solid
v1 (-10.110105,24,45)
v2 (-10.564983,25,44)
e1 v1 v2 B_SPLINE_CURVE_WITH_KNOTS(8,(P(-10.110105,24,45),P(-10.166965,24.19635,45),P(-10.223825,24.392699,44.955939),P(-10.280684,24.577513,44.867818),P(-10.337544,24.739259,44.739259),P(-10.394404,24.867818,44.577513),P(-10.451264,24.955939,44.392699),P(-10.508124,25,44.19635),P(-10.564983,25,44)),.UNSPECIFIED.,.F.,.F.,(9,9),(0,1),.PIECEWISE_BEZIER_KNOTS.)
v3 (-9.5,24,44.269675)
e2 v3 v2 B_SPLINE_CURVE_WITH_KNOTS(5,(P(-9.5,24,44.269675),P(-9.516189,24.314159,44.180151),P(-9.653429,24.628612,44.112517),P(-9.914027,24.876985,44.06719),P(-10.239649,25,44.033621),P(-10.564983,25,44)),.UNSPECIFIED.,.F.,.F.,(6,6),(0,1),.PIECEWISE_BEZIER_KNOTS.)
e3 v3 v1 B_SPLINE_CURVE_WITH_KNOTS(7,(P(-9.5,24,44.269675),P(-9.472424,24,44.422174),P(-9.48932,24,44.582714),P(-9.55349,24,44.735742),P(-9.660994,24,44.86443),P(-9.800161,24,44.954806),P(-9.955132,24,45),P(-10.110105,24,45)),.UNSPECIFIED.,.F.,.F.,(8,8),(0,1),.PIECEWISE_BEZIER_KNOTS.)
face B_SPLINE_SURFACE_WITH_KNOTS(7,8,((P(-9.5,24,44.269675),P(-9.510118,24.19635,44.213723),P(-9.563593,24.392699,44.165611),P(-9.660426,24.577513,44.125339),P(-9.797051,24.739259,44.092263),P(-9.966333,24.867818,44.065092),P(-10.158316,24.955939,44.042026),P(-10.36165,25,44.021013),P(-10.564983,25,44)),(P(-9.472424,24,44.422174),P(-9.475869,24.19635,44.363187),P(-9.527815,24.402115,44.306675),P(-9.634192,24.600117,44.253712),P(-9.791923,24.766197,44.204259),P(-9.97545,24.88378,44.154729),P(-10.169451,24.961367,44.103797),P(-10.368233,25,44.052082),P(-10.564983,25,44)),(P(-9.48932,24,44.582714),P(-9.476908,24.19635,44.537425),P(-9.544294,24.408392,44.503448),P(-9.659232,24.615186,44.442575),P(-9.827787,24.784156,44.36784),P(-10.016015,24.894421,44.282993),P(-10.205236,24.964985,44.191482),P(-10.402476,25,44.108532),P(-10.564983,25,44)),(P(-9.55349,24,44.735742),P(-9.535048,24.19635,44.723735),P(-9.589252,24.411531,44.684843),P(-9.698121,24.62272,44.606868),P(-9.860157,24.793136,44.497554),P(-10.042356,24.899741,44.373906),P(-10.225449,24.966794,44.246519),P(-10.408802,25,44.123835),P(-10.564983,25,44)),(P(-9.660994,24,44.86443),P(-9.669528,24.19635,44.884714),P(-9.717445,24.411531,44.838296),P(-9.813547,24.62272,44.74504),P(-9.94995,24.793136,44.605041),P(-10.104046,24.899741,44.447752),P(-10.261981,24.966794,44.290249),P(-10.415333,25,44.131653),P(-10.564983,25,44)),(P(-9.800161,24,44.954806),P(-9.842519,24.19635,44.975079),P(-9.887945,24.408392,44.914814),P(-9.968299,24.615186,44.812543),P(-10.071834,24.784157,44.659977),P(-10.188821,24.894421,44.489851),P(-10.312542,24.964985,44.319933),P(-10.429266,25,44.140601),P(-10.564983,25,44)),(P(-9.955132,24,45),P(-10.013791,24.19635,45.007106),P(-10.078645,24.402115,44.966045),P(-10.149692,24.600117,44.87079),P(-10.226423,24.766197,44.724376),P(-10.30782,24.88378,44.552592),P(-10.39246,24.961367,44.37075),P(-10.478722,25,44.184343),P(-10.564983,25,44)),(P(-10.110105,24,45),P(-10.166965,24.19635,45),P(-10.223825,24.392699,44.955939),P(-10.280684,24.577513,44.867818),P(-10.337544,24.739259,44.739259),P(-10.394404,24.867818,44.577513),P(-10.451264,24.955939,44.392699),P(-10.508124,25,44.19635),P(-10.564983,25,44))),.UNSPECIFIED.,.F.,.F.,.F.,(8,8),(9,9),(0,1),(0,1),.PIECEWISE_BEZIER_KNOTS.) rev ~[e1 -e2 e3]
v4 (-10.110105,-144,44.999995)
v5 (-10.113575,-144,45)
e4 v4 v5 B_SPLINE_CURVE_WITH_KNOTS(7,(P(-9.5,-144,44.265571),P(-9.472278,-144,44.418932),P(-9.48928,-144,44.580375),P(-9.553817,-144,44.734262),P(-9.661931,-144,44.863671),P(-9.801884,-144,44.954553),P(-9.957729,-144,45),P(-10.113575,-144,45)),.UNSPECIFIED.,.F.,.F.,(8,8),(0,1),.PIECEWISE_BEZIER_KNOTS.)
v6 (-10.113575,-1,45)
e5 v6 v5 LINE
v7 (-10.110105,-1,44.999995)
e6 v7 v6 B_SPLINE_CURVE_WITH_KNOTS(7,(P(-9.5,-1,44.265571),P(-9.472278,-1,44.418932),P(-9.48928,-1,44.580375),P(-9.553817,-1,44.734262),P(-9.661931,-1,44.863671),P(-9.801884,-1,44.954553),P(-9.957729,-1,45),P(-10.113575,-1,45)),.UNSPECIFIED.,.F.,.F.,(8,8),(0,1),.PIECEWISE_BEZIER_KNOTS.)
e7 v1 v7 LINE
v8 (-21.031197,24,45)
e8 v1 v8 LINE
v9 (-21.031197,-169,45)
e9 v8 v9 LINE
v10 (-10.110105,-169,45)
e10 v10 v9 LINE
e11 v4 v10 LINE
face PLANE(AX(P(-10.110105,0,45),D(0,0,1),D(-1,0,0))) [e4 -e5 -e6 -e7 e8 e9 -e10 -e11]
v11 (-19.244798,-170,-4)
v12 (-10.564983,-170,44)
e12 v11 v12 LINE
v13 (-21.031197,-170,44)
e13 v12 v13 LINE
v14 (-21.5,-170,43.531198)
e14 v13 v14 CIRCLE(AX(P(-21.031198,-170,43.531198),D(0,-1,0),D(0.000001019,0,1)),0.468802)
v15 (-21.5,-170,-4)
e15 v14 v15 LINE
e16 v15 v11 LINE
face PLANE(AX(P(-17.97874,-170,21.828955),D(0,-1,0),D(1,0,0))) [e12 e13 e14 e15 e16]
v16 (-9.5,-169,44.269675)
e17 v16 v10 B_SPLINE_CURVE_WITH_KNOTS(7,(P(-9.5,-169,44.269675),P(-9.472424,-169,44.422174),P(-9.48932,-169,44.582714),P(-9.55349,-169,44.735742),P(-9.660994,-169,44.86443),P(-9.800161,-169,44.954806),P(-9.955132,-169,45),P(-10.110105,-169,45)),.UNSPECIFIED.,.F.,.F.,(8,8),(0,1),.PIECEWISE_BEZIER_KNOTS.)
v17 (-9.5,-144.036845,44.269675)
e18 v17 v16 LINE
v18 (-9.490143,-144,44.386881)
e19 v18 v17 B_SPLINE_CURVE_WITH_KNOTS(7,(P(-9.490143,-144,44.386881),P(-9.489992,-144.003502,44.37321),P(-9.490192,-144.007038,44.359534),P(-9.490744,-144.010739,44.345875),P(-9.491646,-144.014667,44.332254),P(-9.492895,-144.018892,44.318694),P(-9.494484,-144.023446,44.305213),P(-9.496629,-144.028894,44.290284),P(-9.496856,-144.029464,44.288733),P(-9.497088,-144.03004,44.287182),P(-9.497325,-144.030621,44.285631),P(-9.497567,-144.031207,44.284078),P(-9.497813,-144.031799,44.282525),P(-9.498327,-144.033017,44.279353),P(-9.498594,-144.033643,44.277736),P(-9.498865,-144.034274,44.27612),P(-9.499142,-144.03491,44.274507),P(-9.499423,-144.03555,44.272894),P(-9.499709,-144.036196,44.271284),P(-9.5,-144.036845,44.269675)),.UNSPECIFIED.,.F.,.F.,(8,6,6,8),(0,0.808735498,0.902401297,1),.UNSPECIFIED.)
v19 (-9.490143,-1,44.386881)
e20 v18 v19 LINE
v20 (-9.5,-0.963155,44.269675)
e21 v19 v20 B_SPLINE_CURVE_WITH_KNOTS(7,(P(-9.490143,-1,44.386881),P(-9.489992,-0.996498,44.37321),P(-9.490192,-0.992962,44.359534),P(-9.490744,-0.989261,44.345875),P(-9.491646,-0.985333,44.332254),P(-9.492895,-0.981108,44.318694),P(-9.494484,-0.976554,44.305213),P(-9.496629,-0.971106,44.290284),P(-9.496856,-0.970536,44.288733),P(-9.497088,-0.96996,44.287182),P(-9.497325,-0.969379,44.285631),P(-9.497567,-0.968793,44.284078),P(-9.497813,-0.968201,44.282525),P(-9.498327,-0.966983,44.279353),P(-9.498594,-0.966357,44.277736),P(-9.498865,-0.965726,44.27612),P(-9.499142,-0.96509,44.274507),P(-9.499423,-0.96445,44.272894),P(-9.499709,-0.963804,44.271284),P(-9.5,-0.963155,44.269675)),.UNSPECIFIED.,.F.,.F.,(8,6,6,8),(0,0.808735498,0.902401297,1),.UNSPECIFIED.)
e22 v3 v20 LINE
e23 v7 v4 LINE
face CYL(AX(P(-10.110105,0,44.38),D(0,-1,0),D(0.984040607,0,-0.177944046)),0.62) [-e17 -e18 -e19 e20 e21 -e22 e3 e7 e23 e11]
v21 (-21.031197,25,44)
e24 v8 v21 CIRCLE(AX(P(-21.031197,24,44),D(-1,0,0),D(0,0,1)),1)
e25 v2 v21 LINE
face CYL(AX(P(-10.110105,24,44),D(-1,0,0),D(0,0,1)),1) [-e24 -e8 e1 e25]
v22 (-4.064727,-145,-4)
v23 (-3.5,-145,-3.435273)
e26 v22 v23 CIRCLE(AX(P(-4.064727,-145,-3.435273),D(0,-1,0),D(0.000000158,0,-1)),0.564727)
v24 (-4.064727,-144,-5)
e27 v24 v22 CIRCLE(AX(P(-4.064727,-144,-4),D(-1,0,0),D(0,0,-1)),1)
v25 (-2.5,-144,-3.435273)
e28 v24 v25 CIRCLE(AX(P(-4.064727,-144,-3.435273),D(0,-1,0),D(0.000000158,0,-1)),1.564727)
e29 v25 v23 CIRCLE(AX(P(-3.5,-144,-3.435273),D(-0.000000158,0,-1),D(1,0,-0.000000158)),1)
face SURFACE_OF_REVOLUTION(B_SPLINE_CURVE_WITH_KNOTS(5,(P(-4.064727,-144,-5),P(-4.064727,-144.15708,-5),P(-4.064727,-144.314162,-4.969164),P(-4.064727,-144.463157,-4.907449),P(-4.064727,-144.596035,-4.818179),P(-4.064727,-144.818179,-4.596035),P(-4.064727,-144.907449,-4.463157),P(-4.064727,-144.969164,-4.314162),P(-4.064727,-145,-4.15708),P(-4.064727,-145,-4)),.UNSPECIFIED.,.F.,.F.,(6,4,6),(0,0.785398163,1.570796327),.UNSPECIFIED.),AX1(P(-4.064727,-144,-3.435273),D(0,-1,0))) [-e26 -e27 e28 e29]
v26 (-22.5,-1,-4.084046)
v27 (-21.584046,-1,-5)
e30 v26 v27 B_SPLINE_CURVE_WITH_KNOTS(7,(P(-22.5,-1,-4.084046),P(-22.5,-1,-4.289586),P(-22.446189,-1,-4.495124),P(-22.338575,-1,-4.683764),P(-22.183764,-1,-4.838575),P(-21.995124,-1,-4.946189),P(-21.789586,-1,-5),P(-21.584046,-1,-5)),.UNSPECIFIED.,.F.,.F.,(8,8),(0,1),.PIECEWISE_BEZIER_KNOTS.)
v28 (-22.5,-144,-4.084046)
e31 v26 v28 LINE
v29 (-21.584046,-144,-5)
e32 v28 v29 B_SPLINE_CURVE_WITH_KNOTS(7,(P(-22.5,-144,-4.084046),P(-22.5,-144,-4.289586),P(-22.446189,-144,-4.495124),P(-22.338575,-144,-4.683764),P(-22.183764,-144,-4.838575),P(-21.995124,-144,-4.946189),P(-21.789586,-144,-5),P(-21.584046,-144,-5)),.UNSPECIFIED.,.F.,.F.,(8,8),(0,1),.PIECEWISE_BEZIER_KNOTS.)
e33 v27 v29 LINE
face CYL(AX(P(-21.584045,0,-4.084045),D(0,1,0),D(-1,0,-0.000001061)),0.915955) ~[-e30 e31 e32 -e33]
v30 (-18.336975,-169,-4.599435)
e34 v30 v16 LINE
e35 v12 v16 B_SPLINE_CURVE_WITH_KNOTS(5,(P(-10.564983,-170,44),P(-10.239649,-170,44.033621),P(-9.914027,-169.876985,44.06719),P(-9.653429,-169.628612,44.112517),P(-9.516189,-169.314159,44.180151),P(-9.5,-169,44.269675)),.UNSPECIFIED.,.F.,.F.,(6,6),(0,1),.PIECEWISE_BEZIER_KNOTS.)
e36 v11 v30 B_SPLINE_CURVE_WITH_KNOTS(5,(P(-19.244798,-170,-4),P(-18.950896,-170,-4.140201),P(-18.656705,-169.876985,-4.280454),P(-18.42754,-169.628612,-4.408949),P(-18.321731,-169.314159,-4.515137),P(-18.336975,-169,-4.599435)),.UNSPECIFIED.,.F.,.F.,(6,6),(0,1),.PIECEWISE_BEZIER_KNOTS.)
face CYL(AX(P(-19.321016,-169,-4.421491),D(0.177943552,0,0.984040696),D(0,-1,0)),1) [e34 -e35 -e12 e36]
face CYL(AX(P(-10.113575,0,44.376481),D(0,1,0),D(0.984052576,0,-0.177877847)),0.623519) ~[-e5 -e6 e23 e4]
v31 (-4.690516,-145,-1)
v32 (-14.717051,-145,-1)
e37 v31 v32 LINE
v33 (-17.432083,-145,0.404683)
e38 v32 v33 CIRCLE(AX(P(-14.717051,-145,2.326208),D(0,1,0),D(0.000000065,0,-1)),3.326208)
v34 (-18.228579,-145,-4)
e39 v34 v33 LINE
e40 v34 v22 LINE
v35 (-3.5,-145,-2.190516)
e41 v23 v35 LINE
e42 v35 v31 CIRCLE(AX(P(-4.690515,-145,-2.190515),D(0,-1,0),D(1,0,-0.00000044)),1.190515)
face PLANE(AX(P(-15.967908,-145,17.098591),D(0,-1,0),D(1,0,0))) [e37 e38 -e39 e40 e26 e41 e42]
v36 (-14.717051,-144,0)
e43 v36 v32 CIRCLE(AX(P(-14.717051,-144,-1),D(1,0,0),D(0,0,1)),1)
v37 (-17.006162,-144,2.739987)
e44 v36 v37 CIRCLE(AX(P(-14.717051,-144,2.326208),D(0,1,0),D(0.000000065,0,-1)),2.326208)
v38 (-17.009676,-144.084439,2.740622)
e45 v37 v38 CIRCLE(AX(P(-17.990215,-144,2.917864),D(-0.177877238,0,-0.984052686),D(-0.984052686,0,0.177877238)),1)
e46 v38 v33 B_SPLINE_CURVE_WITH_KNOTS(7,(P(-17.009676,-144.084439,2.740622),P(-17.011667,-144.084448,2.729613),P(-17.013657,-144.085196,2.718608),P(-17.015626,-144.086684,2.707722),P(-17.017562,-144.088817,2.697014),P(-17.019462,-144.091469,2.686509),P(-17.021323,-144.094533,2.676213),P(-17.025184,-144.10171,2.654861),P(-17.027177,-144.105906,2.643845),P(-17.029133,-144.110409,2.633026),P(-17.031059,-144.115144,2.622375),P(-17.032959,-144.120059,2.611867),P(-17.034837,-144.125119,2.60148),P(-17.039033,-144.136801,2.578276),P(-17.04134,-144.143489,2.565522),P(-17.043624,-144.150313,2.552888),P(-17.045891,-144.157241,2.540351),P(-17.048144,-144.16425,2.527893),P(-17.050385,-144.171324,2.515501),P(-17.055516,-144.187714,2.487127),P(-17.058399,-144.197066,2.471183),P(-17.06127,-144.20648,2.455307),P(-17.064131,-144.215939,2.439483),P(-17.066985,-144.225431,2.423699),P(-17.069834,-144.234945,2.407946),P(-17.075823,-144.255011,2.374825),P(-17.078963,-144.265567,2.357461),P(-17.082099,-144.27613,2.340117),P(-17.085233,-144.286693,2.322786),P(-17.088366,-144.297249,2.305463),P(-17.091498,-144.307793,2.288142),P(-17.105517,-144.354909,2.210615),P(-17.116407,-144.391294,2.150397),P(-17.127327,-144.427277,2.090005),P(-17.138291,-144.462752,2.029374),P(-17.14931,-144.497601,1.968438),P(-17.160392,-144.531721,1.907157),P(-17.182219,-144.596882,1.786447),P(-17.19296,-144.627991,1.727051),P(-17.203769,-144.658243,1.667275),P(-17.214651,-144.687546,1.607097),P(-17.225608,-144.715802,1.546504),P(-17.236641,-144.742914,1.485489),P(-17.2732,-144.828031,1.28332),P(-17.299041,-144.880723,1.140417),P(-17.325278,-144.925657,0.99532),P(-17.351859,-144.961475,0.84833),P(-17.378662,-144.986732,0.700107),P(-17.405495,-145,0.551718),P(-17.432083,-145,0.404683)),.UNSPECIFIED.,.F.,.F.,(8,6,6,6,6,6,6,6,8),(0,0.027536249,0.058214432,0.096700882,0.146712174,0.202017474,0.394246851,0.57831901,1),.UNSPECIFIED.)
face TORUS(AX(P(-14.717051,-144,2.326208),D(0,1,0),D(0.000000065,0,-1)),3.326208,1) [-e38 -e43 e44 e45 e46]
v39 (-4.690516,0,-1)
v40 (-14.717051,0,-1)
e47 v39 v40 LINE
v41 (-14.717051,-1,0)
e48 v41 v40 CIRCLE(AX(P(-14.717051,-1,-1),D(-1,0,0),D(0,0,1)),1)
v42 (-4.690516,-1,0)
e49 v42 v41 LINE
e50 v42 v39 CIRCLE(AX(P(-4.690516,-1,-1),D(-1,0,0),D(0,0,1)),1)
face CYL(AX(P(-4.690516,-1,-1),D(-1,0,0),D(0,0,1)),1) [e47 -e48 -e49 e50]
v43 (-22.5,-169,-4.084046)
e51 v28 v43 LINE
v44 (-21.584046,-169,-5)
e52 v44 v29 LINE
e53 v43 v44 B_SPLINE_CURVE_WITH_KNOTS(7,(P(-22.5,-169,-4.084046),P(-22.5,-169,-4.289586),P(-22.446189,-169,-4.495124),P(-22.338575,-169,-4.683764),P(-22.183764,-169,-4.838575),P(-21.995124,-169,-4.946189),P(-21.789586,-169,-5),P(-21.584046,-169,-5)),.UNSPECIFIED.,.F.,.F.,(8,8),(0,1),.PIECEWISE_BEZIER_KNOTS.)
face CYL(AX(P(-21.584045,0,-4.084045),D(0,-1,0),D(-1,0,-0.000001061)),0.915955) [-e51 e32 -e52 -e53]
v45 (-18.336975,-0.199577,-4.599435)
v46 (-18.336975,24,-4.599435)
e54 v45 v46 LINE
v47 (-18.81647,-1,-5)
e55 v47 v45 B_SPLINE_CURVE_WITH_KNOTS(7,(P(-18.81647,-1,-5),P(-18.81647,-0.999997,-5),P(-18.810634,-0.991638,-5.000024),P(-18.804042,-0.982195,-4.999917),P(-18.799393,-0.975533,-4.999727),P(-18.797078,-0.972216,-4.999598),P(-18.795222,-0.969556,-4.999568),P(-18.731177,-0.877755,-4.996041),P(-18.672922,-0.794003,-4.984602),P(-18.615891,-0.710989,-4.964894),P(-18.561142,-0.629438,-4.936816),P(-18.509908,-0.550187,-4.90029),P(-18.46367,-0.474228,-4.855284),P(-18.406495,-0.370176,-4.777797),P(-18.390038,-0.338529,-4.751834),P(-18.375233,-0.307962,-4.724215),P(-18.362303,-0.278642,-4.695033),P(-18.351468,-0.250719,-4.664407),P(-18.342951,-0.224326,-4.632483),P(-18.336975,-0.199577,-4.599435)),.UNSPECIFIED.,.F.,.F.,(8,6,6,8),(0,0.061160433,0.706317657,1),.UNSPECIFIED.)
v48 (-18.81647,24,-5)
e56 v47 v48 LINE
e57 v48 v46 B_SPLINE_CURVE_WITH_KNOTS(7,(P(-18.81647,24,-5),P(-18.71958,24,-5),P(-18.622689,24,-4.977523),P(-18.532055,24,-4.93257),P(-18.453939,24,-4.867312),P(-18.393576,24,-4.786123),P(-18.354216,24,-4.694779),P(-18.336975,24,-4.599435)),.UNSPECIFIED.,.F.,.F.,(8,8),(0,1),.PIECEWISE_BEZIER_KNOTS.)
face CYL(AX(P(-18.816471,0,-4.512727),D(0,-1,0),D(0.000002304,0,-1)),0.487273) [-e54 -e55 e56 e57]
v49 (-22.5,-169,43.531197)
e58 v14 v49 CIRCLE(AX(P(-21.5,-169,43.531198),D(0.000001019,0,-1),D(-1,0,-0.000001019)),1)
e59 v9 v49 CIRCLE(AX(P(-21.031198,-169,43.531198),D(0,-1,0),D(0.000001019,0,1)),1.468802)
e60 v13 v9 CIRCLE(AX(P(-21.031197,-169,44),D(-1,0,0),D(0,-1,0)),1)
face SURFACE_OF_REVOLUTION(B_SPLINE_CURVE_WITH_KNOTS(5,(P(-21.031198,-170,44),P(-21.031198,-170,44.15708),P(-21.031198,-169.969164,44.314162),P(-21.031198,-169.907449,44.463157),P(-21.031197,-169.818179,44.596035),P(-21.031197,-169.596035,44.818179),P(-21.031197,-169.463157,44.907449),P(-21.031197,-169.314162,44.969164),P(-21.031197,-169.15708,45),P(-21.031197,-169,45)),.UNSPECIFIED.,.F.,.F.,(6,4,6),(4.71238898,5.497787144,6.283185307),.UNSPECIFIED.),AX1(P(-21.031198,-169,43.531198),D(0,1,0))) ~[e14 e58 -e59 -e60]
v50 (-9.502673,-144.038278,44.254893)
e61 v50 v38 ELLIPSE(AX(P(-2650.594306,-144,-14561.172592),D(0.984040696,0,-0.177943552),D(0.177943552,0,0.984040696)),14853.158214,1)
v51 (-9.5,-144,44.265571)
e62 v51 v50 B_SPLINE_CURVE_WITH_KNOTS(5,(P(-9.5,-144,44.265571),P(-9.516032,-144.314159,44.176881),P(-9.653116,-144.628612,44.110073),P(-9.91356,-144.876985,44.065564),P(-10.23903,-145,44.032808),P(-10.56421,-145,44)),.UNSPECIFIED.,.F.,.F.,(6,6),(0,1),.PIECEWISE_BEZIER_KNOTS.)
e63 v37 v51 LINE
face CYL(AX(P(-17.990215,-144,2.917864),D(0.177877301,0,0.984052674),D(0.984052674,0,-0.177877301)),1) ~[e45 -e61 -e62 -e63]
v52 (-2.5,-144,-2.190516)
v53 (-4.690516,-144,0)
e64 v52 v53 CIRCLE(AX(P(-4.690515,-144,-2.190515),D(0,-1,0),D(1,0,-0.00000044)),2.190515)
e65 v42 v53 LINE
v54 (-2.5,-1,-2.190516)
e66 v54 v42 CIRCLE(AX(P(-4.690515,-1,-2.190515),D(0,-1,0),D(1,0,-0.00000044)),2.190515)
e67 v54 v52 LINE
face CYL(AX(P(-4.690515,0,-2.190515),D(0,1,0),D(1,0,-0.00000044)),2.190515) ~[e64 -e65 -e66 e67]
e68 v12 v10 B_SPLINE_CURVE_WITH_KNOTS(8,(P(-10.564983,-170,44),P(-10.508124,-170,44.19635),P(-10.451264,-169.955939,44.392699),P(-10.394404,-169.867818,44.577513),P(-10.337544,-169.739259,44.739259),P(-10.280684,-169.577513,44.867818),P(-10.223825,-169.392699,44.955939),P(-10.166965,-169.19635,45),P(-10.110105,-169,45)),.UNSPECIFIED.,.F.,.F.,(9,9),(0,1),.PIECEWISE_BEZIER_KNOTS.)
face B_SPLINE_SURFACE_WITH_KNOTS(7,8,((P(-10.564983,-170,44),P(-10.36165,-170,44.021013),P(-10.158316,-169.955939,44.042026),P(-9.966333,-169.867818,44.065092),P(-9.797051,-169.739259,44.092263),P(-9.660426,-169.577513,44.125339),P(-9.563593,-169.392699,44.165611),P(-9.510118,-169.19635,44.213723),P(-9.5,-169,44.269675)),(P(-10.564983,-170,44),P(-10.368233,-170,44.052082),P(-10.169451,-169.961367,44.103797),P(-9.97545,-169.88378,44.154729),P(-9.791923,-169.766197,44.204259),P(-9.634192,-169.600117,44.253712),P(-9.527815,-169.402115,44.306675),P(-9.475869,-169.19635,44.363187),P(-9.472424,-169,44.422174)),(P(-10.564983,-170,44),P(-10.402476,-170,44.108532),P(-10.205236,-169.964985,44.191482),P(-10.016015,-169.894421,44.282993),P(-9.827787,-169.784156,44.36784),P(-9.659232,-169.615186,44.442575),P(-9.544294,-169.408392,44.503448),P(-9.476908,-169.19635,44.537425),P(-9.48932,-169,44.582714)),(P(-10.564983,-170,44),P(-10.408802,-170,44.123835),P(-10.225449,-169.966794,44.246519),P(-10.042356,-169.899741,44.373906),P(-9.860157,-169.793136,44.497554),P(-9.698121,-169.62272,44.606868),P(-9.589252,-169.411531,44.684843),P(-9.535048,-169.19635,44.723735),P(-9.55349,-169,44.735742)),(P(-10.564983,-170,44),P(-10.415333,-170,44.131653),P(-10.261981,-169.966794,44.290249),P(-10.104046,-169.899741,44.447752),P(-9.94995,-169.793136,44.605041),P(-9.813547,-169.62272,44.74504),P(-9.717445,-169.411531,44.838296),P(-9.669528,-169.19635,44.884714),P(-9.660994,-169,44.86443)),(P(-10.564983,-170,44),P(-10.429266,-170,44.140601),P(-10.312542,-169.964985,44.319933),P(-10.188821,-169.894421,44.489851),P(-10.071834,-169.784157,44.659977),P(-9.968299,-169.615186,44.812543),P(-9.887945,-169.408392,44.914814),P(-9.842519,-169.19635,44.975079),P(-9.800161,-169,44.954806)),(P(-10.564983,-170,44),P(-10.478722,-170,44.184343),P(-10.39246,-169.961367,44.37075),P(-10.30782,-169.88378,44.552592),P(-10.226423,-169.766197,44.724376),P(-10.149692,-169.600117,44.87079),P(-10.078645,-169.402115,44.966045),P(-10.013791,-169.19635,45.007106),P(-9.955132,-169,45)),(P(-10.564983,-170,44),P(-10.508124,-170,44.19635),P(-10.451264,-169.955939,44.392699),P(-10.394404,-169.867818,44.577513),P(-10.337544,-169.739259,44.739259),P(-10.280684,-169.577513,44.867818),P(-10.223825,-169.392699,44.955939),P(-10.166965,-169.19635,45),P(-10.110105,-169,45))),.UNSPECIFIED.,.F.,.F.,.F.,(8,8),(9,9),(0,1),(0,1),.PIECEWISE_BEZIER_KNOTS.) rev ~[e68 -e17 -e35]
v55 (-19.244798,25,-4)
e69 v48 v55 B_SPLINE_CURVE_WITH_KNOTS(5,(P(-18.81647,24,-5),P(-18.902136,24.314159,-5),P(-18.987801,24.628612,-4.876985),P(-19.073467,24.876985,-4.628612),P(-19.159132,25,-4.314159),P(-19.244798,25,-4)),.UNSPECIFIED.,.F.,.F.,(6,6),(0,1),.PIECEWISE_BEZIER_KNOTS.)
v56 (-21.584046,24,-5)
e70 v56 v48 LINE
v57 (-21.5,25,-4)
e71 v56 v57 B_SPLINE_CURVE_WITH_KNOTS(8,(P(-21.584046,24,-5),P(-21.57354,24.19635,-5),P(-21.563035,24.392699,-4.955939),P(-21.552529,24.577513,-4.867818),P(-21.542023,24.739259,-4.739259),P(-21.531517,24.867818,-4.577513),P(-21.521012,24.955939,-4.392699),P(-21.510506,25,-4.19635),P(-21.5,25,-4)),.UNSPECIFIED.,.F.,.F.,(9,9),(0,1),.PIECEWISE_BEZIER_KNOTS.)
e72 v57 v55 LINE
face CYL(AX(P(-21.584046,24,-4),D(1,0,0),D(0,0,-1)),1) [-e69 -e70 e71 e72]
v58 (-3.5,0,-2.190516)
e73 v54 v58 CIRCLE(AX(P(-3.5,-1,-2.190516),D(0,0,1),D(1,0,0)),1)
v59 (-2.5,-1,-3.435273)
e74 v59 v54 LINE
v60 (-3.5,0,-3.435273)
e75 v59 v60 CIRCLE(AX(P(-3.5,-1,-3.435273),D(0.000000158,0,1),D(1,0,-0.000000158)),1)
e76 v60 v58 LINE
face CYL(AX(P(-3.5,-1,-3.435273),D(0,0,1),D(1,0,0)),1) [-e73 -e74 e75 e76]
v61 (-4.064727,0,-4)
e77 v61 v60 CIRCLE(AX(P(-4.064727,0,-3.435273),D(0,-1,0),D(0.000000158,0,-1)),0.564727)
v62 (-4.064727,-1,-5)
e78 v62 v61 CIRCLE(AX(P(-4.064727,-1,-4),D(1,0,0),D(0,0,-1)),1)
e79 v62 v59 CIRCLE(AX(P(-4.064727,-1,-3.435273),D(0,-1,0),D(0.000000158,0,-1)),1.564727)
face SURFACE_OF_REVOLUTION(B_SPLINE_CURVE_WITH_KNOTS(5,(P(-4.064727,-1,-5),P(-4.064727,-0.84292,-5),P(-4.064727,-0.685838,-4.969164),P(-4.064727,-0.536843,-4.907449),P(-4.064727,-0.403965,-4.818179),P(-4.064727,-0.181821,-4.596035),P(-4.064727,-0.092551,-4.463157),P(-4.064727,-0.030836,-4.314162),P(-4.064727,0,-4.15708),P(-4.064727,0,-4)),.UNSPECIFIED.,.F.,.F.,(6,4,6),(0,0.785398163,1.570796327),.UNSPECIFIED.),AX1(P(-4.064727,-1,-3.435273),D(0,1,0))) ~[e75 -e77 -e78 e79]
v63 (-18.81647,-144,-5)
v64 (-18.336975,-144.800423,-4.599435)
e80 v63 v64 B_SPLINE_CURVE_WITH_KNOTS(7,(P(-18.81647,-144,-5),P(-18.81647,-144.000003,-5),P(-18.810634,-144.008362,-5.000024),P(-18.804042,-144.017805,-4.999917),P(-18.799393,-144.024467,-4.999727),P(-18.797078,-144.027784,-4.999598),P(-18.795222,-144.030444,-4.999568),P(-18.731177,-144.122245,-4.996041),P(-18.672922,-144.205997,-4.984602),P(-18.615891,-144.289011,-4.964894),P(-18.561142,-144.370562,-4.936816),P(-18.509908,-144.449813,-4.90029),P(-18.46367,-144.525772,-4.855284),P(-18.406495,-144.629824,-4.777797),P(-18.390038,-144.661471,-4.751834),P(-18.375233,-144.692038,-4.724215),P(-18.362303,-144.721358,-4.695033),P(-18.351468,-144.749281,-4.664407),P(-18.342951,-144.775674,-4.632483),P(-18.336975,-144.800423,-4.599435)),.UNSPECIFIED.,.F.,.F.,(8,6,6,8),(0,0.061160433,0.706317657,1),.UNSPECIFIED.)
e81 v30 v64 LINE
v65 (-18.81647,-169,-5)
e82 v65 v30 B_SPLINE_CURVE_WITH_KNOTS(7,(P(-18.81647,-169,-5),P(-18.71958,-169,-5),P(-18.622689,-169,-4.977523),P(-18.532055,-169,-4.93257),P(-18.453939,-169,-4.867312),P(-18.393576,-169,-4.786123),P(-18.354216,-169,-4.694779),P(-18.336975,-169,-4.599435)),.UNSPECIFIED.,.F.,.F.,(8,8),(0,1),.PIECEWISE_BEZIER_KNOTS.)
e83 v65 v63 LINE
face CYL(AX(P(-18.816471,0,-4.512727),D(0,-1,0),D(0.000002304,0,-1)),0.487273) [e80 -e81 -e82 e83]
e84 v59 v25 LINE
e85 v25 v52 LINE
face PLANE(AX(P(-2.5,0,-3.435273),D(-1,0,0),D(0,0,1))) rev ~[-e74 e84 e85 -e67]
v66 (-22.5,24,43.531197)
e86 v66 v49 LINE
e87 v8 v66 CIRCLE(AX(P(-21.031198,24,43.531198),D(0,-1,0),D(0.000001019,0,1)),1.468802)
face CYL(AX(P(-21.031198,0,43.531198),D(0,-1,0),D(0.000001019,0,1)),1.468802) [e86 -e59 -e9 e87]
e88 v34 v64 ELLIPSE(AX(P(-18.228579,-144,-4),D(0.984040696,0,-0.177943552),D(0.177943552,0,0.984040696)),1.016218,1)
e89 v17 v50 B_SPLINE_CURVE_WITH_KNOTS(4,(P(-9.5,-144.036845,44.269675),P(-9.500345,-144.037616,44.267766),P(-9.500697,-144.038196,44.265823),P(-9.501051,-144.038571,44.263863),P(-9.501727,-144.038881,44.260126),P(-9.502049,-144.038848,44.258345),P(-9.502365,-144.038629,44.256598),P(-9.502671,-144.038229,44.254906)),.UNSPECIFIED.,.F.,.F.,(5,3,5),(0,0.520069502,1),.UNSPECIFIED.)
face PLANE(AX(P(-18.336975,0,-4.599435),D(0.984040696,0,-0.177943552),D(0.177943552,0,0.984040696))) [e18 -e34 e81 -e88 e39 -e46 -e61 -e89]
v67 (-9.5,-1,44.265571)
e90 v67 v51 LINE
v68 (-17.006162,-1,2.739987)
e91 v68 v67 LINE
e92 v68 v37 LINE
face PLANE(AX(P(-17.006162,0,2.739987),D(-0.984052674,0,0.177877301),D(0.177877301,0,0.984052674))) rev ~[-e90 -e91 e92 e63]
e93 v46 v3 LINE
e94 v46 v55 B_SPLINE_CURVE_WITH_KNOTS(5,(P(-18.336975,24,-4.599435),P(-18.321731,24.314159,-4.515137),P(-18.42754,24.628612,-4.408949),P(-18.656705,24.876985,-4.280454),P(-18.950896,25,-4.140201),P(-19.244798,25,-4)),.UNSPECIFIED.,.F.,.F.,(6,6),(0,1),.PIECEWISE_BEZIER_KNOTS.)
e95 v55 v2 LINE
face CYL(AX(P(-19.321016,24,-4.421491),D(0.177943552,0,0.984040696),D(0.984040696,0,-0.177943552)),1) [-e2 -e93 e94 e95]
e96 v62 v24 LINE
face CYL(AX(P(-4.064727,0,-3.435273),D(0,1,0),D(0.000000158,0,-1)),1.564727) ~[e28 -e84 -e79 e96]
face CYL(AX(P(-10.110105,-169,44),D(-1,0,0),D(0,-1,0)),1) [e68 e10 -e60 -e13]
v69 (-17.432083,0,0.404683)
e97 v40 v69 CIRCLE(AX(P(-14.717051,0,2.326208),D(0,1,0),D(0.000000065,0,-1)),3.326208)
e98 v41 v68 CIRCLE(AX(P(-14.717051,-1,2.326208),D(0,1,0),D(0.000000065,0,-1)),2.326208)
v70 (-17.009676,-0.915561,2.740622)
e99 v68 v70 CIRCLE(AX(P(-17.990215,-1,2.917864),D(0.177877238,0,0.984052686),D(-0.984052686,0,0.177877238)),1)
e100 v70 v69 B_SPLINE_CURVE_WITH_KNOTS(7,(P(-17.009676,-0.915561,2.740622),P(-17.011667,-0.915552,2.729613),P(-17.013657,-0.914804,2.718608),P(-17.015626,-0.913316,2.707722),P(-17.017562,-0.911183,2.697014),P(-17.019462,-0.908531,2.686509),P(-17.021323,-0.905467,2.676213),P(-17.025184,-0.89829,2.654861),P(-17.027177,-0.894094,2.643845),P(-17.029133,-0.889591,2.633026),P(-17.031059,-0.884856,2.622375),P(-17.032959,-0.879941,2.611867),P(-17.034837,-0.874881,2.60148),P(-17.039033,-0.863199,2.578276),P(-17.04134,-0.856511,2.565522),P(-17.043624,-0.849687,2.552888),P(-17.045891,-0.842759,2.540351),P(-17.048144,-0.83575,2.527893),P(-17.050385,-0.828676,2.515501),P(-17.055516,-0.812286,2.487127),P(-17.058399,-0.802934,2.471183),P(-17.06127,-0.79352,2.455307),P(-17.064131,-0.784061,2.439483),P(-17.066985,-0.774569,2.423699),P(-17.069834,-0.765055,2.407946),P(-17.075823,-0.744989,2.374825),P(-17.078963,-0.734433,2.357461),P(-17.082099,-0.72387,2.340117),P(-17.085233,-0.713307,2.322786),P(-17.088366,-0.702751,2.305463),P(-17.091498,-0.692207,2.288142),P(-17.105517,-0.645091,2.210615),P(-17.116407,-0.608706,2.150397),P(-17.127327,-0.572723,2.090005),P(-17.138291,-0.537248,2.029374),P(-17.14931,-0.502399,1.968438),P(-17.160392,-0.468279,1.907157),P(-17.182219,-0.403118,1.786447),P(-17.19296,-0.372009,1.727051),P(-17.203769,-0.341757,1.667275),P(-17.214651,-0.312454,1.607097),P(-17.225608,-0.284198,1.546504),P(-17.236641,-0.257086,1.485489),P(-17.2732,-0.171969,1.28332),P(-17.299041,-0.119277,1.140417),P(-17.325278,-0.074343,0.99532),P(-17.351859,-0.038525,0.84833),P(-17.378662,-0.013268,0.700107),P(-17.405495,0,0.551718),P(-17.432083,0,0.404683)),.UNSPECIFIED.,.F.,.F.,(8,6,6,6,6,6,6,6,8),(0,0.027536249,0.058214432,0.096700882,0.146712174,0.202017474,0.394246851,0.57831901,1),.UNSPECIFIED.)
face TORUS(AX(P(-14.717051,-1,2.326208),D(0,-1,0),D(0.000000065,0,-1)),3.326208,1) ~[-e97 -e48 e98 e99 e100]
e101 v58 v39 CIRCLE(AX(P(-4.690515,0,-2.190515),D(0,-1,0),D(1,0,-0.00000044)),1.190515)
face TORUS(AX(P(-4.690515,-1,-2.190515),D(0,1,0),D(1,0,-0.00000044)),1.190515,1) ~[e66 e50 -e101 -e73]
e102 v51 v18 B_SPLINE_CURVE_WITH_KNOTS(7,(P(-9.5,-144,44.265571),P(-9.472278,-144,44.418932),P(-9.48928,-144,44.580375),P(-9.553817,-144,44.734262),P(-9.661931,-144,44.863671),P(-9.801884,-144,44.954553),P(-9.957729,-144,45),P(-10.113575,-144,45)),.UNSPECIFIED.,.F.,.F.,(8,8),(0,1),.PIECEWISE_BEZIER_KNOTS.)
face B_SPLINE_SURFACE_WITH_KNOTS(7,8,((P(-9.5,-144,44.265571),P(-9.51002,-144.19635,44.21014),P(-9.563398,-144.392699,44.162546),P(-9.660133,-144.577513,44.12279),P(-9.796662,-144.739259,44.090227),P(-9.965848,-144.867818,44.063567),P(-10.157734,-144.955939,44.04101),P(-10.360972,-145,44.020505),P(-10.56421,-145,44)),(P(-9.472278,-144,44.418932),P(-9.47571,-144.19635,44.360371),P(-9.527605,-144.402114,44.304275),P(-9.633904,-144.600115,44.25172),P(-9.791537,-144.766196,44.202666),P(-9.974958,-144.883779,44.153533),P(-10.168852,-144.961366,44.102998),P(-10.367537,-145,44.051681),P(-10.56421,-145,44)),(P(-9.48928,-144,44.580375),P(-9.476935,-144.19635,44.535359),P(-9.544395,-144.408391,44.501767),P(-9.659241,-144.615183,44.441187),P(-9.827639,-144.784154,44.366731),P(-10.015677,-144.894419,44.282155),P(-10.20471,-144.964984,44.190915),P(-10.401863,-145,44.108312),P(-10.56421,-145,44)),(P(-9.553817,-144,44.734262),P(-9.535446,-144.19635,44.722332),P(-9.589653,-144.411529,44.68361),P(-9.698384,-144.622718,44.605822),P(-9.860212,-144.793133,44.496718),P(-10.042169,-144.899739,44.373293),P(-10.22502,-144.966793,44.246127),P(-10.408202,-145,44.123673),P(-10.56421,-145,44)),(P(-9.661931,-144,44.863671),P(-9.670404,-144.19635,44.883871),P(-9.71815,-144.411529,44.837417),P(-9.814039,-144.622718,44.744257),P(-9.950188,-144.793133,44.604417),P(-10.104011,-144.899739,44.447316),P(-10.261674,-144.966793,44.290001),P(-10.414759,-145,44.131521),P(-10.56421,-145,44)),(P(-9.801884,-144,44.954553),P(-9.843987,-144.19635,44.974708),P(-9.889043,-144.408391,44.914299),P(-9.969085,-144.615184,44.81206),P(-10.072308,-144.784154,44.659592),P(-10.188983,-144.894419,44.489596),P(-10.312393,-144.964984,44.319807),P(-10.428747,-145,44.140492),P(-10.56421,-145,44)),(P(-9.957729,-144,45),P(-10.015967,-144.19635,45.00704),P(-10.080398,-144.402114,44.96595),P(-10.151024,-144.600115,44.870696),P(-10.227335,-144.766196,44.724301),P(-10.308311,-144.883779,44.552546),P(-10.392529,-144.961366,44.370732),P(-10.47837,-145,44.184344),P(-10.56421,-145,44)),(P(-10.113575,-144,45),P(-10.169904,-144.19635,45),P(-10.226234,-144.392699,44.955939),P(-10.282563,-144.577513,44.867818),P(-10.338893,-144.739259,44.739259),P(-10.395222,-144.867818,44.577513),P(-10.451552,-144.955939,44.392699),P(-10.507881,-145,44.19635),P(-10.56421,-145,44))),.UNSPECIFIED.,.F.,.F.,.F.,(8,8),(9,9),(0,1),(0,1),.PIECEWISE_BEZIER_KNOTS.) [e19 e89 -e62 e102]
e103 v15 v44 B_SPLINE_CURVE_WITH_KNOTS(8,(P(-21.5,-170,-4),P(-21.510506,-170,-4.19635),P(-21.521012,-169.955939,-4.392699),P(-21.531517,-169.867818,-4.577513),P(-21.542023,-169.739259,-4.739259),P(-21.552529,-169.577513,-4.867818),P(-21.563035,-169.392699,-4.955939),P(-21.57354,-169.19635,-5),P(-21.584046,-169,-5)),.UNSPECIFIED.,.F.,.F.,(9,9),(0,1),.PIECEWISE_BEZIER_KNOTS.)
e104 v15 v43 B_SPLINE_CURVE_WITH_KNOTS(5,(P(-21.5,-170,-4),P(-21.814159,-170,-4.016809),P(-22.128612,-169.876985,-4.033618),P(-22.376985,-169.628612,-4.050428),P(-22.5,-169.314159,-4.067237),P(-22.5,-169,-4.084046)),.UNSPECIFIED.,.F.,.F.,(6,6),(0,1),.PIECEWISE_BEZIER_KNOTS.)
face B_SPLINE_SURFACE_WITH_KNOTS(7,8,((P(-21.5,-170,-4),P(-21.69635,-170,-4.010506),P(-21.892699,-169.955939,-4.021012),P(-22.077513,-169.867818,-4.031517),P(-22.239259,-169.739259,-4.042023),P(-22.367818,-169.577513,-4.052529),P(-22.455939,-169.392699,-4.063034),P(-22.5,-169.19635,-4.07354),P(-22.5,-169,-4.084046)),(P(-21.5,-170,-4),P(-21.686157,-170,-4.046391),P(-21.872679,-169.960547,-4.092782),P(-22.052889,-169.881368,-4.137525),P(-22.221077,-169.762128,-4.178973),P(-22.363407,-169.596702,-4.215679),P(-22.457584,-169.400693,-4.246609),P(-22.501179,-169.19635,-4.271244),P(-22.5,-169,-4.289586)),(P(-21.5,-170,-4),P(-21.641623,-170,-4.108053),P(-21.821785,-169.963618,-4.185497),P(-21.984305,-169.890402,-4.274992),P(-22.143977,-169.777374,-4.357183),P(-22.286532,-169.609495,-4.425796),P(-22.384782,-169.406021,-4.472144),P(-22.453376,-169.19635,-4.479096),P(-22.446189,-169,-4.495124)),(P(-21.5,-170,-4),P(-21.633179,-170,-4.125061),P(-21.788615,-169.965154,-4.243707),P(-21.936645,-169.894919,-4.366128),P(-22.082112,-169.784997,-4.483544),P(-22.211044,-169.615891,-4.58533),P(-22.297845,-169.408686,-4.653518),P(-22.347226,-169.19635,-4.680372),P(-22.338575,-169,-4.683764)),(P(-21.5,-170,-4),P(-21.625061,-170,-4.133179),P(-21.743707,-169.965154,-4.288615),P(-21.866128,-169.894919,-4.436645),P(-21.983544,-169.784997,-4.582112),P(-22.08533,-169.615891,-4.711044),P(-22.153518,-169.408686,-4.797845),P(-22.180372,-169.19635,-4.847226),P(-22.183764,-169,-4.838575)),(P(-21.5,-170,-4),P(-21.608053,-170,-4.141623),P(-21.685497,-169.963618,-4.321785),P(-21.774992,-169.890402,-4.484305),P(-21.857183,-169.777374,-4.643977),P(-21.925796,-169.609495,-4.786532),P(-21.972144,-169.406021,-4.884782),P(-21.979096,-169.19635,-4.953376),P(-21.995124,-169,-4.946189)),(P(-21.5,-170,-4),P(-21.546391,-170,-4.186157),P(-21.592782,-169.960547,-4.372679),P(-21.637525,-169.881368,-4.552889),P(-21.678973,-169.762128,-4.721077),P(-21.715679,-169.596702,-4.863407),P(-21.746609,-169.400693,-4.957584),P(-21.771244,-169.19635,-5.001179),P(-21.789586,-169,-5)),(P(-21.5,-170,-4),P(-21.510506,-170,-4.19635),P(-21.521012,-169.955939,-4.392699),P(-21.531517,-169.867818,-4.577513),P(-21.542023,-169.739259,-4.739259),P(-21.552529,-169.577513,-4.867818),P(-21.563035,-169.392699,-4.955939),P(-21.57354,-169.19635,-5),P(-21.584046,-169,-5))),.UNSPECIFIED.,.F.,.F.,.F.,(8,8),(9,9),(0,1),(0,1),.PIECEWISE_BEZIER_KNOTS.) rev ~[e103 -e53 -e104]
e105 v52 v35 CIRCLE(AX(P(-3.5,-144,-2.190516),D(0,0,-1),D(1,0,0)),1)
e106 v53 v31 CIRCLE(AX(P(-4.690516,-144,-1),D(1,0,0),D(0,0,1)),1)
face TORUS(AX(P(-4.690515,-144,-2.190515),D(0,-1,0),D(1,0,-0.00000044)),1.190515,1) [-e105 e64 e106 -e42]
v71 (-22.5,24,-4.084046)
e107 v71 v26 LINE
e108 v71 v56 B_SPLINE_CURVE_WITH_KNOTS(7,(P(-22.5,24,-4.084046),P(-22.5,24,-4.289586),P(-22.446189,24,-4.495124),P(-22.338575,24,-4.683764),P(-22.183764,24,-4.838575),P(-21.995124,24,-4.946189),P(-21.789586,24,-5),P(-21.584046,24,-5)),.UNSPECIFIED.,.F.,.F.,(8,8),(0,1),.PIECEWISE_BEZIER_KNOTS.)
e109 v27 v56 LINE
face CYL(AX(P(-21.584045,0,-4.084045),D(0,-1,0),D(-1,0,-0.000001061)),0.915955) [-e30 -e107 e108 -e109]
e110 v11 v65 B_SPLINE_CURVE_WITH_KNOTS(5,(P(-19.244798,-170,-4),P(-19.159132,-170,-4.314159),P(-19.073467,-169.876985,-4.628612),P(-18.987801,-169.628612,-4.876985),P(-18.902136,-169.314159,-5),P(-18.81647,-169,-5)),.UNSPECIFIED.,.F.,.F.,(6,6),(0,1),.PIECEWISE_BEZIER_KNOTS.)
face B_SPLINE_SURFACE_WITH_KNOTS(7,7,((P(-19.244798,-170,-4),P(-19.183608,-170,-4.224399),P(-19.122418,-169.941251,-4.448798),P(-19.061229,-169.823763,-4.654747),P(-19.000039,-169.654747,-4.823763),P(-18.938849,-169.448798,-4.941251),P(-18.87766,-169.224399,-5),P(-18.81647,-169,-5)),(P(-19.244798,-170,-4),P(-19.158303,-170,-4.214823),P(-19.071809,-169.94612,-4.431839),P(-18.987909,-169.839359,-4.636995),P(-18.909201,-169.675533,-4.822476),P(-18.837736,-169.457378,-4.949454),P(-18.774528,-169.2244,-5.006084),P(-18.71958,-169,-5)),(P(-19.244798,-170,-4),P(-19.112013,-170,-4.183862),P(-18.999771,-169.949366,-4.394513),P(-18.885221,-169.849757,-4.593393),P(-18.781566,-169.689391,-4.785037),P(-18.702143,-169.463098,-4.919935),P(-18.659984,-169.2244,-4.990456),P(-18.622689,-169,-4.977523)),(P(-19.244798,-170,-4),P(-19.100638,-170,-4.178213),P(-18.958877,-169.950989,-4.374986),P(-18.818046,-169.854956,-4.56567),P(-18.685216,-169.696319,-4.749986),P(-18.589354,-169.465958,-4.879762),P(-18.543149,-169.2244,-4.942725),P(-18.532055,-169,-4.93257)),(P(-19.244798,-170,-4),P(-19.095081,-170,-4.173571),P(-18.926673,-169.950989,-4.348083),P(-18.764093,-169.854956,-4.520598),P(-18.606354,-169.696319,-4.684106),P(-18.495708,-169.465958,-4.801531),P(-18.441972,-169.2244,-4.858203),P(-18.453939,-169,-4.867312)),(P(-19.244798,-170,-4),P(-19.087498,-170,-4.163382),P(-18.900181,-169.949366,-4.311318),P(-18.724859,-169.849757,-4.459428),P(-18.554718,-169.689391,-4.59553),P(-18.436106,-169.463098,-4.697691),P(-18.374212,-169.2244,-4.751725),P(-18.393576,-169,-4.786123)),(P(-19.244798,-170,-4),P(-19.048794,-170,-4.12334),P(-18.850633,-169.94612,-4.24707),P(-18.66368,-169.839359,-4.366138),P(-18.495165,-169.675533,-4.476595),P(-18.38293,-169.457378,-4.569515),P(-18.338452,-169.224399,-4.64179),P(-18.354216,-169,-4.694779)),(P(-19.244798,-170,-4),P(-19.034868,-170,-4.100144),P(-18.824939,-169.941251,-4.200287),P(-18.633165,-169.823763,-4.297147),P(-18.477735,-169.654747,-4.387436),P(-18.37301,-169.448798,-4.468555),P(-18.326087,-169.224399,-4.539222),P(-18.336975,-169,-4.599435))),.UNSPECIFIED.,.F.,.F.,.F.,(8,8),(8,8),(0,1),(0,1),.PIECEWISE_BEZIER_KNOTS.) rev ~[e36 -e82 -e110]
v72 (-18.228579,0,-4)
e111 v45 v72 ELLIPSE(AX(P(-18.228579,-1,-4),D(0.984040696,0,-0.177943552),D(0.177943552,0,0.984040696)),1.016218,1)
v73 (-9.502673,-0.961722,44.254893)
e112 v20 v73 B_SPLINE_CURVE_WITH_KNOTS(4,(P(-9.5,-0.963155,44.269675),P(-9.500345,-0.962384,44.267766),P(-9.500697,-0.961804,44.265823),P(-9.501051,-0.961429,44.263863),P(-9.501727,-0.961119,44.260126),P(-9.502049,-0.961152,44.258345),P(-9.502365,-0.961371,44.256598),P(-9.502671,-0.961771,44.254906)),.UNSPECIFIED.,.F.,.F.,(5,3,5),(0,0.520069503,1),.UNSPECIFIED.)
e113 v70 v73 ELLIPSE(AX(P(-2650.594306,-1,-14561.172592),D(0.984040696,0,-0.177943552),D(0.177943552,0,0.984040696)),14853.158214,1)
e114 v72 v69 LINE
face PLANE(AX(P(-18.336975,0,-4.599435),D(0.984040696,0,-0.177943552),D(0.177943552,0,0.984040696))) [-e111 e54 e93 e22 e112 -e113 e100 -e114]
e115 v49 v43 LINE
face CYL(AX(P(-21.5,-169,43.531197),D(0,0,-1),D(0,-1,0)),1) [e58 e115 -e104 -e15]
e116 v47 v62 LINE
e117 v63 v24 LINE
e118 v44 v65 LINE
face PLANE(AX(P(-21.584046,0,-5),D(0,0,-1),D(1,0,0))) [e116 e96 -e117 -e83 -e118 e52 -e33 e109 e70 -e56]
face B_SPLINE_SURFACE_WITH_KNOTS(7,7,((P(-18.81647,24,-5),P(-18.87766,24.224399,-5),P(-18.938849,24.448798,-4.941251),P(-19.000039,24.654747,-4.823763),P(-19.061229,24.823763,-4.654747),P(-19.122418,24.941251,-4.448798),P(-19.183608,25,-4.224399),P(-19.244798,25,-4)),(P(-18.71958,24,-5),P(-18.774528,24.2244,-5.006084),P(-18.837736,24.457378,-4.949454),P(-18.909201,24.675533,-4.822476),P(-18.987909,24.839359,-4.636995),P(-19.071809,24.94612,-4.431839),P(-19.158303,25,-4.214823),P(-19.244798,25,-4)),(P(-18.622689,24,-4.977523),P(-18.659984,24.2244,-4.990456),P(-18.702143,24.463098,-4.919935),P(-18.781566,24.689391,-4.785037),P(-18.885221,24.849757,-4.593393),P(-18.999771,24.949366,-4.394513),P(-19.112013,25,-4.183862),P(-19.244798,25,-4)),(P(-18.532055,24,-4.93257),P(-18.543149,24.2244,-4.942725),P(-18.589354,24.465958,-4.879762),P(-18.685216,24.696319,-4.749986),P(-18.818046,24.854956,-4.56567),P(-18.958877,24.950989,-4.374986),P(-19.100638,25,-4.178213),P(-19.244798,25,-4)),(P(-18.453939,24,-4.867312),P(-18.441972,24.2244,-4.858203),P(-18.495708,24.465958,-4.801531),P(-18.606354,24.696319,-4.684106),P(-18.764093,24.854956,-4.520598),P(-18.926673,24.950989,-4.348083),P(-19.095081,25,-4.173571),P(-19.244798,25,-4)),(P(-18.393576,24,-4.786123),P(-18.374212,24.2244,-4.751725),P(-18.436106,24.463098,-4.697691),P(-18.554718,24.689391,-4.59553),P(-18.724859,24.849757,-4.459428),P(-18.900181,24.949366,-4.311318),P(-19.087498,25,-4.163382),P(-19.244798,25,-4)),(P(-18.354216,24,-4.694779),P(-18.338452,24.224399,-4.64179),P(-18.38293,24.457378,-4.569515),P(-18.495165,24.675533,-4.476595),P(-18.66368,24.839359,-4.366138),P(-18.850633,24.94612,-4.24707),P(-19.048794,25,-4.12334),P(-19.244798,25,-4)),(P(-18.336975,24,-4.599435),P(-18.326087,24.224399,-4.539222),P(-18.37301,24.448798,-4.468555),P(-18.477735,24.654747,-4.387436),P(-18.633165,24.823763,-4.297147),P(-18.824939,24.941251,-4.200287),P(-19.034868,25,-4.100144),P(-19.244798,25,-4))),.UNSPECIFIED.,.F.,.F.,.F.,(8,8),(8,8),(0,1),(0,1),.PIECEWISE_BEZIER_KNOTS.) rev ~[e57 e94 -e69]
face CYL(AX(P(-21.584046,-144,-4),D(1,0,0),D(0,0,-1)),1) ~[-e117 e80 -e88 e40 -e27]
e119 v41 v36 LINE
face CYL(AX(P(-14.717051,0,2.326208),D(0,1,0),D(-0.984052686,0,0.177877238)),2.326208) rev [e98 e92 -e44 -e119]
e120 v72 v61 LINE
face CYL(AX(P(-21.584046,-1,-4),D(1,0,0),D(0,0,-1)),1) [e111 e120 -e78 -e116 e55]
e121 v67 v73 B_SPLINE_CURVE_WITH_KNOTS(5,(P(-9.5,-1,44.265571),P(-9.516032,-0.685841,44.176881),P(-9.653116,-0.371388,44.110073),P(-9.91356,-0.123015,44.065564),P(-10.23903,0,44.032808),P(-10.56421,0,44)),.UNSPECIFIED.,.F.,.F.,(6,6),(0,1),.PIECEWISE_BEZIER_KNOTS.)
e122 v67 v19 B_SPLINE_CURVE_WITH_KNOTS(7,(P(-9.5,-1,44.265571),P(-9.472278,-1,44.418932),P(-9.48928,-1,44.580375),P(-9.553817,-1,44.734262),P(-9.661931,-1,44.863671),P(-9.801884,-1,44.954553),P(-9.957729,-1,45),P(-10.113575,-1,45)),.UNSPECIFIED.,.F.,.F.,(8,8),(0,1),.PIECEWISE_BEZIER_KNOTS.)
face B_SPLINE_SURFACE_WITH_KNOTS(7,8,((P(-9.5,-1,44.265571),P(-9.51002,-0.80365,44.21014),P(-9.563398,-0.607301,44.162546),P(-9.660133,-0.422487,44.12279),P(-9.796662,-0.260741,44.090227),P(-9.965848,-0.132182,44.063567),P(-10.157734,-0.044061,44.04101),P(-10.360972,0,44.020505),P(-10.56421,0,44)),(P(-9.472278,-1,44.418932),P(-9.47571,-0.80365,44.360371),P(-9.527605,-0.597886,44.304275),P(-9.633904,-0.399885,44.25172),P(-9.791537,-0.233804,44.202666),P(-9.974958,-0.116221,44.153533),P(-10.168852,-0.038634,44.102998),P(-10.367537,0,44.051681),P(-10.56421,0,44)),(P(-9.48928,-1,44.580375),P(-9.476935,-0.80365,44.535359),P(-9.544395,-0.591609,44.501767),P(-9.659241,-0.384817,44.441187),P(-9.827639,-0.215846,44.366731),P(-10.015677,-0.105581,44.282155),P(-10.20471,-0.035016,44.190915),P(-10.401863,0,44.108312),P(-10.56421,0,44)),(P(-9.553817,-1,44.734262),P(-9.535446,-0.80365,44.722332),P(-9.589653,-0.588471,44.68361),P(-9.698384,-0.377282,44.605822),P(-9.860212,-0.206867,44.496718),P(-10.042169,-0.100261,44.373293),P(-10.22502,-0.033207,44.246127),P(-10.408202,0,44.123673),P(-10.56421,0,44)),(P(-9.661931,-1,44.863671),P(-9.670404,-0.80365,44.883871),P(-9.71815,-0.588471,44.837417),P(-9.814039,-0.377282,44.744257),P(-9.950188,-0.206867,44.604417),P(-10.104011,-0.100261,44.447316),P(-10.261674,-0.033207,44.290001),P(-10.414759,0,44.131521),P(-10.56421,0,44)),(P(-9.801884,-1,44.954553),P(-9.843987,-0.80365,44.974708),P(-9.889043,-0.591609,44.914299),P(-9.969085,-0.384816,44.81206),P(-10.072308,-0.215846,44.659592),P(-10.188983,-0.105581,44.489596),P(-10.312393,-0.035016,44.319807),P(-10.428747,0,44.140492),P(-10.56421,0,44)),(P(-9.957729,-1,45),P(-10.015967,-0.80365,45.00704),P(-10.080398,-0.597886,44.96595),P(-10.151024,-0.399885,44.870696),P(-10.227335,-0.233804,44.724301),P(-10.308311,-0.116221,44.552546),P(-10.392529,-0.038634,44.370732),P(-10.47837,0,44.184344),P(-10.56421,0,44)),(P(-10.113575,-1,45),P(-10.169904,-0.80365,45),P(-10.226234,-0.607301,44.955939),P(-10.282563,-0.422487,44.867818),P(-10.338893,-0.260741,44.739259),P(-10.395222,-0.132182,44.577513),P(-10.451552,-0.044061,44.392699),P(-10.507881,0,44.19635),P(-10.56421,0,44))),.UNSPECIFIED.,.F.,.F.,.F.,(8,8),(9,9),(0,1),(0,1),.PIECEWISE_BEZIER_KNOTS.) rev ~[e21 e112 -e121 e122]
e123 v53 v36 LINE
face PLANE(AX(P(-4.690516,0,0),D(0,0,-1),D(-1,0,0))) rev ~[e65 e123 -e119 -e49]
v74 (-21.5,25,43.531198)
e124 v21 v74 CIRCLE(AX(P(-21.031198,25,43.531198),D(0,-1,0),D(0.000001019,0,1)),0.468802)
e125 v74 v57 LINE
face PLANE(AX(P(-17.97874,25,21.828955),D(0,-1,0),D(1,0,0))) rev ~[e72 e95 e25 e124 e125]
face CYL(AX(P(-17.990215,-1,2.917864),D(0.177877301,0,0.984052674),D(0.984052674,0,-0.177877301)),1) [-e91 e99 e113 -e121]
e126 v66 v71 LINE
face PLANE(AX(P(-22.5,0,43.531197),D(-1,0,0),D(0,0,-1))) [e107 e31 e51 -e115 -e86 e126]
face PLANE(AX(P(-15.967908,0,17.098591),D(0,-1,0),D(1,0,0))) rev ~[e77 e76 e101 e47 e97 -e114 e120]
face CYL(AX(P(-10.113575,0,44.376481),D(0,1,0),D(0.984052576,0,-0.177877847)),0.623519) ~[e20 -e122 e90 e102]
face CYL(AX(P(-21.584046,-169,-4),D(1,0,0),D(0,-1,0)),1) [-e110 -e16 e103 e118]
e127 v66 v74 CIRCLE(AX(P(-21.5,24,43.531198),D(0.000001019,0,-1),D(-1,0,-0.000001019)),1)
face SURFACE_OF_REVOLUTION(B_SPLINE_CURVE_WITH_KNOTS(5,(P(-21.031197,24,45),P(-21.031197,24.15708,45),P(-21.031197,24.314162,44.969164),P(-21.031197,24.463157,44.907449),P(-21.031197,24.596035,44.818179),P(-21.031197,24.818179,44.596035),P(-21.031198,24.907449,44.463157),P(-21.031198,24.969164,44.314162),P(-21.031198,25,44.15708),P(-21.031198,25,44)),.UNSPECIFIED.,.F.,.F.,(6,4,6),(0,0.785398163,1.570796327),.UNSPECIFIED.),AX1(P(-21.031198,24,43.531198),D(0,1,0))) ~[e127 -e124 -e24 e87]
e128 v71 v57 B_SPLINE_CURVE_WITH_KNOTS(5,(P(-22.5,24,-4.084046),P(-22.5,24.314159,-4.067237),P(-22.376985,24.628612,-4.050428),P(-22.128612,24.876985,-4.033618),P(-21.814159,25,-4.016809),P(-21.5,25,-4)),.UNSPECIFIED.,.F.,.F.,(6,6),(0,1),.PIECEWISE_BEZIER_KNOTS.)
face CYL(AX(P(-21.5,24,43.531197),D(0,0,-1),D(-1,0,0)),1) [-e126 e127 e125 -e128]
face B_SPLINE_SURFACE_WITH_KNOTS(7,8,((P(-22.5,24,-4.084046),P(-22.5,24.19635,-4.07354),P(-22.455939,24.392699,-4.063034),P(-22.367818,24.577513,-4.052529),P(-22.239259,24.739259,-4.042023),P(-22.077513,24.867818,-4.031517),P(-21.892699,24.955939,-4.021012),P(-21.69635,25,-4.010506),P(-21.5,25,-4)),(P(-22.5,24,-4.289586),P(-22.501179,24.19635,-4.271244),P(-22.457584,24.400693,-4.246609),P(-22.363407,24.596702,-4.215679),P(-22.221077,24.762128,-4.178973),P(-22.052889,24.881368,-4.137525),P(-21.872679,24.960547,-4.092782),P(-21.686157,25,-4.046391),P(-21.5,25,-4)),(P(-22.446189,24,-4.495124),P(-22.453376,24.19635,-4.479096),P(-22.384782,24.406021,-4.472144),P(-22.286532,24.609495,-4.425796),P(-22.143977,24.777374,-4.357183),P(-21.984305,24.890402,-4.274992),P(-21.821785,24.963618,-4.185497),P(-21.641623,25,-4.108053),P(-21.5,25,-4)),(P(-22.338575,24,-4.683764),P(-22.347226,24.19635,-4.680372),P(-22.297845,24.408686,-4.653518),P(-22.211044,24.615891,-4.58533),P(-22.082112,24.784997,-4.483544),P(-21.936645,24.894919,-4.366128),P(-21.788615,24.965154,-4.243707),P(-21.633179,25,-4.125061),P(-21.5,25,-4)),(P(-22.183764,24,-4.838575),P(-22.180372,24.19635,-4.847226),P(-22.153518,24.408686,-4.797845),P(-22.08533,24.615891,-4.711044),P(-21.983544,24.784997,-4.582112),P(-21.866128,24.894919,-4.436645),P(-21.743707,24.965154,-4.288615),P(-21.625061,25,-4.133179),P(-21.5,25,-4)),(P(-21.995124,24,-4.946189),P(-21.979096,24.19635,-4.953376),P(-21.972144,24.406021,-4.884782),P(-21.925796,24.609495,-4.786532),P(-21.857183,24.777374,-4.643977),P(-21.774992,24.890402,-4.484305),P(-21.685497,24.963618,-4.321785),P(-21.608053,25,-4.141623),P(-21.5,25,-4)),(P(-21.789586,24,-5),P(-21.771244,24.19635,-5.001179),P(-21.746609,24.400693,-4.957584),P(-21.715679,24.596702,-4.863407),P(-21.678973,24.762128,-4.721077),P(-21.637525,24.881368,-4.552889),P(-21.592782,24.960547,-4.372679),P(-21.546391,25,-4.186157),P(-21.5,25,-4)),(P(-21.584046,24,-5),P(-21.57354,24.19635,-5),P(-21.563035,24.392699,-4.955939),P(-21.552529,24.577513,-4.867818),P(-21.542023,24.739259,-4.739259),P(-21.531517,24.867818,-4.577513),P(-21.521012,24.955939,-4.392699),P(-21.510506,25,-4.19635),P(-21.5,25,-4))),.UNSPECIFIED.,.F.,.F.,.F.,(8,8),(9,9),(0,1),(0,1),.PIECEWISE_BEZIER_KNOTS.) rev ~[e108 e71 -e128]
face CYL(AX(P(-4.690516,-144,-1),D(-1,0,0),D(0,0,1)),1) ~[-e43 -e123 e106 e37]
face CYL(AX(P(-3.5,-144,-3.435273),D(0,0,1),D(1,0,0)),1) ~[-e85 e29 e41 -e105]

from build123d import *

# Parameters (mm, degrees)
EXTRUDE001_DEPTH      = 170
EXTRUDE001_DEPTH_BACK = 25
EXTRUDE_DEPTH         = 145
FILLET_R              = 1
FILLET001_R           = 1


with BuildPart() as extrude001:
    # Sketch001 → Extrude001 (new body, two sides)
    with BuildSketch(Plane.XZ) as extrude001_sk:
        with BuildLine():
            Line((-18.336975, -4.599435), (-9.5, 44.269675))
            ThreePointArc((-9.5, 44.269675), (-9.634289, 44.777491), (-10.110105, 45))
            Line((-10.110105, 45), (-21.031197, 45))
            ThreePointArc((-21.031197, 45), (-22.069798, 44.569798), (-22.5, 43.531197))
            Line((-22.5, 43.531197), (-22.5, -4.084046))
            ThreePointArc((-22.5, -4.084046), (-22.231723, -4.731723), (-21.584046, -5))
            Line((-21.584046, -5), (-18.81647, -5))
            ThreePointArc((-18.81647, -5), (-18.504073, -4.886682), (-18.336975, -4.599435))
        make_face()
    extrude(amount=EXTRUDE001_DEPTH)
    extrude(extrude001_sk.sketch, amount=-EXTRUDE001_DEPTH_BACK)


with BuildPart() as fillet001:
    # Sketch → Extrude (new body)
    with BuildSketch(Plane.XZ):
        with BuildLine():
            Line((-4.690516, 0), (-14.717051, 0))
            ThreePointArc((-17.006162, 2.739987), (-16.502237, 0.834781), (-14.717051, 0))
            Line((-17.006162, 2.739987), (-9.5, 44.265571))
            ThreePointArc((-9.5, 44.265571), (-9.635072, 44.776244), (-10.113575, 45))
            Line((-10.113575, 45), (-21.031197, 45))
            ThreePointArc((-21.031197, 45), (-22.069798, 44.569798), (-22.5, 43.531197))
            Line((-22.5, 43.531197), (-22.5, -4.084046))
            ThreePointArc((-22.5, -4.084046), (-22.231723, -4.731723), (-21.584046, -5))
            Line((-21.584046, -5), (-4.064727, -5))
            ThreePointArc((-4.064727, -5), (-2.958298, -4.541702), (-2.5, -3.435273))
            Line((-2.5, -3.435273), (-2.5, -2.190516))
            ThreePointArc((-2.5, -2.190516), (-3.141587, -0.641587), (-4.690516, 0))
        make_face()
    extrude(amount=EXTRUDE_DEPTH)

    # Fillet
    fillet_edges = [fillet001.edges().sort_by_distance(p)[0] for p in [
        (-9.703783, 0, 0),
        (-9.703783, -145, 0),
        (-16.502237, 0, 0.834781),
        (-16.502237, -145, 0.834781),
        (-12.824386, 0, -5),
        (-12.824386, -145, -5),
        (-2.958298, 0, -4.541702),
        (-2.958298, -145, -4.541702),
        (-2.5, 0, -2.812895),
        (-2.5, -145, -2.812895),
        (-3.141587, 0, -0.641587),
        (-3.141587, -145, -0.641587),
    ]]
    fillet(fillet_edges, radius=FILLET_R)

    # Fusion: union Extrude001
    add(extrude001.part)

    # Fillet001
    fillet001_edges = [fillet001.edges().sort_by_distance(p)[0] for p in [
        (-13.918487, 25, 19.83512),
        (-13.918487, -170, 19.83512),
        (-9.634289, 25, 44.777491),
        (-15.570651, 25, 45),
        (-22.069798, 25, 44.569798),
        (-22.5, 25, 19.723576),
        (-22.231723, 25, -4.731723),
        (-20.200258, 25, -5),
        (-18.504073, 25, -4.886682),
        (-9.634289, -170, 44.777491),
        (-15.570651, -170, 45),
        (-22.069798, -170, 44.569798),
        (-22.5, -170, 19.723575),
        (-22.231723, -170, -4.731723),
        (-20.200258, -170, -5),
        (-18.504073, -170, -4.886682),
    ]]
    fillet(fillet001_edges, radius=FILLET001_R)


solid = fillet001.part
